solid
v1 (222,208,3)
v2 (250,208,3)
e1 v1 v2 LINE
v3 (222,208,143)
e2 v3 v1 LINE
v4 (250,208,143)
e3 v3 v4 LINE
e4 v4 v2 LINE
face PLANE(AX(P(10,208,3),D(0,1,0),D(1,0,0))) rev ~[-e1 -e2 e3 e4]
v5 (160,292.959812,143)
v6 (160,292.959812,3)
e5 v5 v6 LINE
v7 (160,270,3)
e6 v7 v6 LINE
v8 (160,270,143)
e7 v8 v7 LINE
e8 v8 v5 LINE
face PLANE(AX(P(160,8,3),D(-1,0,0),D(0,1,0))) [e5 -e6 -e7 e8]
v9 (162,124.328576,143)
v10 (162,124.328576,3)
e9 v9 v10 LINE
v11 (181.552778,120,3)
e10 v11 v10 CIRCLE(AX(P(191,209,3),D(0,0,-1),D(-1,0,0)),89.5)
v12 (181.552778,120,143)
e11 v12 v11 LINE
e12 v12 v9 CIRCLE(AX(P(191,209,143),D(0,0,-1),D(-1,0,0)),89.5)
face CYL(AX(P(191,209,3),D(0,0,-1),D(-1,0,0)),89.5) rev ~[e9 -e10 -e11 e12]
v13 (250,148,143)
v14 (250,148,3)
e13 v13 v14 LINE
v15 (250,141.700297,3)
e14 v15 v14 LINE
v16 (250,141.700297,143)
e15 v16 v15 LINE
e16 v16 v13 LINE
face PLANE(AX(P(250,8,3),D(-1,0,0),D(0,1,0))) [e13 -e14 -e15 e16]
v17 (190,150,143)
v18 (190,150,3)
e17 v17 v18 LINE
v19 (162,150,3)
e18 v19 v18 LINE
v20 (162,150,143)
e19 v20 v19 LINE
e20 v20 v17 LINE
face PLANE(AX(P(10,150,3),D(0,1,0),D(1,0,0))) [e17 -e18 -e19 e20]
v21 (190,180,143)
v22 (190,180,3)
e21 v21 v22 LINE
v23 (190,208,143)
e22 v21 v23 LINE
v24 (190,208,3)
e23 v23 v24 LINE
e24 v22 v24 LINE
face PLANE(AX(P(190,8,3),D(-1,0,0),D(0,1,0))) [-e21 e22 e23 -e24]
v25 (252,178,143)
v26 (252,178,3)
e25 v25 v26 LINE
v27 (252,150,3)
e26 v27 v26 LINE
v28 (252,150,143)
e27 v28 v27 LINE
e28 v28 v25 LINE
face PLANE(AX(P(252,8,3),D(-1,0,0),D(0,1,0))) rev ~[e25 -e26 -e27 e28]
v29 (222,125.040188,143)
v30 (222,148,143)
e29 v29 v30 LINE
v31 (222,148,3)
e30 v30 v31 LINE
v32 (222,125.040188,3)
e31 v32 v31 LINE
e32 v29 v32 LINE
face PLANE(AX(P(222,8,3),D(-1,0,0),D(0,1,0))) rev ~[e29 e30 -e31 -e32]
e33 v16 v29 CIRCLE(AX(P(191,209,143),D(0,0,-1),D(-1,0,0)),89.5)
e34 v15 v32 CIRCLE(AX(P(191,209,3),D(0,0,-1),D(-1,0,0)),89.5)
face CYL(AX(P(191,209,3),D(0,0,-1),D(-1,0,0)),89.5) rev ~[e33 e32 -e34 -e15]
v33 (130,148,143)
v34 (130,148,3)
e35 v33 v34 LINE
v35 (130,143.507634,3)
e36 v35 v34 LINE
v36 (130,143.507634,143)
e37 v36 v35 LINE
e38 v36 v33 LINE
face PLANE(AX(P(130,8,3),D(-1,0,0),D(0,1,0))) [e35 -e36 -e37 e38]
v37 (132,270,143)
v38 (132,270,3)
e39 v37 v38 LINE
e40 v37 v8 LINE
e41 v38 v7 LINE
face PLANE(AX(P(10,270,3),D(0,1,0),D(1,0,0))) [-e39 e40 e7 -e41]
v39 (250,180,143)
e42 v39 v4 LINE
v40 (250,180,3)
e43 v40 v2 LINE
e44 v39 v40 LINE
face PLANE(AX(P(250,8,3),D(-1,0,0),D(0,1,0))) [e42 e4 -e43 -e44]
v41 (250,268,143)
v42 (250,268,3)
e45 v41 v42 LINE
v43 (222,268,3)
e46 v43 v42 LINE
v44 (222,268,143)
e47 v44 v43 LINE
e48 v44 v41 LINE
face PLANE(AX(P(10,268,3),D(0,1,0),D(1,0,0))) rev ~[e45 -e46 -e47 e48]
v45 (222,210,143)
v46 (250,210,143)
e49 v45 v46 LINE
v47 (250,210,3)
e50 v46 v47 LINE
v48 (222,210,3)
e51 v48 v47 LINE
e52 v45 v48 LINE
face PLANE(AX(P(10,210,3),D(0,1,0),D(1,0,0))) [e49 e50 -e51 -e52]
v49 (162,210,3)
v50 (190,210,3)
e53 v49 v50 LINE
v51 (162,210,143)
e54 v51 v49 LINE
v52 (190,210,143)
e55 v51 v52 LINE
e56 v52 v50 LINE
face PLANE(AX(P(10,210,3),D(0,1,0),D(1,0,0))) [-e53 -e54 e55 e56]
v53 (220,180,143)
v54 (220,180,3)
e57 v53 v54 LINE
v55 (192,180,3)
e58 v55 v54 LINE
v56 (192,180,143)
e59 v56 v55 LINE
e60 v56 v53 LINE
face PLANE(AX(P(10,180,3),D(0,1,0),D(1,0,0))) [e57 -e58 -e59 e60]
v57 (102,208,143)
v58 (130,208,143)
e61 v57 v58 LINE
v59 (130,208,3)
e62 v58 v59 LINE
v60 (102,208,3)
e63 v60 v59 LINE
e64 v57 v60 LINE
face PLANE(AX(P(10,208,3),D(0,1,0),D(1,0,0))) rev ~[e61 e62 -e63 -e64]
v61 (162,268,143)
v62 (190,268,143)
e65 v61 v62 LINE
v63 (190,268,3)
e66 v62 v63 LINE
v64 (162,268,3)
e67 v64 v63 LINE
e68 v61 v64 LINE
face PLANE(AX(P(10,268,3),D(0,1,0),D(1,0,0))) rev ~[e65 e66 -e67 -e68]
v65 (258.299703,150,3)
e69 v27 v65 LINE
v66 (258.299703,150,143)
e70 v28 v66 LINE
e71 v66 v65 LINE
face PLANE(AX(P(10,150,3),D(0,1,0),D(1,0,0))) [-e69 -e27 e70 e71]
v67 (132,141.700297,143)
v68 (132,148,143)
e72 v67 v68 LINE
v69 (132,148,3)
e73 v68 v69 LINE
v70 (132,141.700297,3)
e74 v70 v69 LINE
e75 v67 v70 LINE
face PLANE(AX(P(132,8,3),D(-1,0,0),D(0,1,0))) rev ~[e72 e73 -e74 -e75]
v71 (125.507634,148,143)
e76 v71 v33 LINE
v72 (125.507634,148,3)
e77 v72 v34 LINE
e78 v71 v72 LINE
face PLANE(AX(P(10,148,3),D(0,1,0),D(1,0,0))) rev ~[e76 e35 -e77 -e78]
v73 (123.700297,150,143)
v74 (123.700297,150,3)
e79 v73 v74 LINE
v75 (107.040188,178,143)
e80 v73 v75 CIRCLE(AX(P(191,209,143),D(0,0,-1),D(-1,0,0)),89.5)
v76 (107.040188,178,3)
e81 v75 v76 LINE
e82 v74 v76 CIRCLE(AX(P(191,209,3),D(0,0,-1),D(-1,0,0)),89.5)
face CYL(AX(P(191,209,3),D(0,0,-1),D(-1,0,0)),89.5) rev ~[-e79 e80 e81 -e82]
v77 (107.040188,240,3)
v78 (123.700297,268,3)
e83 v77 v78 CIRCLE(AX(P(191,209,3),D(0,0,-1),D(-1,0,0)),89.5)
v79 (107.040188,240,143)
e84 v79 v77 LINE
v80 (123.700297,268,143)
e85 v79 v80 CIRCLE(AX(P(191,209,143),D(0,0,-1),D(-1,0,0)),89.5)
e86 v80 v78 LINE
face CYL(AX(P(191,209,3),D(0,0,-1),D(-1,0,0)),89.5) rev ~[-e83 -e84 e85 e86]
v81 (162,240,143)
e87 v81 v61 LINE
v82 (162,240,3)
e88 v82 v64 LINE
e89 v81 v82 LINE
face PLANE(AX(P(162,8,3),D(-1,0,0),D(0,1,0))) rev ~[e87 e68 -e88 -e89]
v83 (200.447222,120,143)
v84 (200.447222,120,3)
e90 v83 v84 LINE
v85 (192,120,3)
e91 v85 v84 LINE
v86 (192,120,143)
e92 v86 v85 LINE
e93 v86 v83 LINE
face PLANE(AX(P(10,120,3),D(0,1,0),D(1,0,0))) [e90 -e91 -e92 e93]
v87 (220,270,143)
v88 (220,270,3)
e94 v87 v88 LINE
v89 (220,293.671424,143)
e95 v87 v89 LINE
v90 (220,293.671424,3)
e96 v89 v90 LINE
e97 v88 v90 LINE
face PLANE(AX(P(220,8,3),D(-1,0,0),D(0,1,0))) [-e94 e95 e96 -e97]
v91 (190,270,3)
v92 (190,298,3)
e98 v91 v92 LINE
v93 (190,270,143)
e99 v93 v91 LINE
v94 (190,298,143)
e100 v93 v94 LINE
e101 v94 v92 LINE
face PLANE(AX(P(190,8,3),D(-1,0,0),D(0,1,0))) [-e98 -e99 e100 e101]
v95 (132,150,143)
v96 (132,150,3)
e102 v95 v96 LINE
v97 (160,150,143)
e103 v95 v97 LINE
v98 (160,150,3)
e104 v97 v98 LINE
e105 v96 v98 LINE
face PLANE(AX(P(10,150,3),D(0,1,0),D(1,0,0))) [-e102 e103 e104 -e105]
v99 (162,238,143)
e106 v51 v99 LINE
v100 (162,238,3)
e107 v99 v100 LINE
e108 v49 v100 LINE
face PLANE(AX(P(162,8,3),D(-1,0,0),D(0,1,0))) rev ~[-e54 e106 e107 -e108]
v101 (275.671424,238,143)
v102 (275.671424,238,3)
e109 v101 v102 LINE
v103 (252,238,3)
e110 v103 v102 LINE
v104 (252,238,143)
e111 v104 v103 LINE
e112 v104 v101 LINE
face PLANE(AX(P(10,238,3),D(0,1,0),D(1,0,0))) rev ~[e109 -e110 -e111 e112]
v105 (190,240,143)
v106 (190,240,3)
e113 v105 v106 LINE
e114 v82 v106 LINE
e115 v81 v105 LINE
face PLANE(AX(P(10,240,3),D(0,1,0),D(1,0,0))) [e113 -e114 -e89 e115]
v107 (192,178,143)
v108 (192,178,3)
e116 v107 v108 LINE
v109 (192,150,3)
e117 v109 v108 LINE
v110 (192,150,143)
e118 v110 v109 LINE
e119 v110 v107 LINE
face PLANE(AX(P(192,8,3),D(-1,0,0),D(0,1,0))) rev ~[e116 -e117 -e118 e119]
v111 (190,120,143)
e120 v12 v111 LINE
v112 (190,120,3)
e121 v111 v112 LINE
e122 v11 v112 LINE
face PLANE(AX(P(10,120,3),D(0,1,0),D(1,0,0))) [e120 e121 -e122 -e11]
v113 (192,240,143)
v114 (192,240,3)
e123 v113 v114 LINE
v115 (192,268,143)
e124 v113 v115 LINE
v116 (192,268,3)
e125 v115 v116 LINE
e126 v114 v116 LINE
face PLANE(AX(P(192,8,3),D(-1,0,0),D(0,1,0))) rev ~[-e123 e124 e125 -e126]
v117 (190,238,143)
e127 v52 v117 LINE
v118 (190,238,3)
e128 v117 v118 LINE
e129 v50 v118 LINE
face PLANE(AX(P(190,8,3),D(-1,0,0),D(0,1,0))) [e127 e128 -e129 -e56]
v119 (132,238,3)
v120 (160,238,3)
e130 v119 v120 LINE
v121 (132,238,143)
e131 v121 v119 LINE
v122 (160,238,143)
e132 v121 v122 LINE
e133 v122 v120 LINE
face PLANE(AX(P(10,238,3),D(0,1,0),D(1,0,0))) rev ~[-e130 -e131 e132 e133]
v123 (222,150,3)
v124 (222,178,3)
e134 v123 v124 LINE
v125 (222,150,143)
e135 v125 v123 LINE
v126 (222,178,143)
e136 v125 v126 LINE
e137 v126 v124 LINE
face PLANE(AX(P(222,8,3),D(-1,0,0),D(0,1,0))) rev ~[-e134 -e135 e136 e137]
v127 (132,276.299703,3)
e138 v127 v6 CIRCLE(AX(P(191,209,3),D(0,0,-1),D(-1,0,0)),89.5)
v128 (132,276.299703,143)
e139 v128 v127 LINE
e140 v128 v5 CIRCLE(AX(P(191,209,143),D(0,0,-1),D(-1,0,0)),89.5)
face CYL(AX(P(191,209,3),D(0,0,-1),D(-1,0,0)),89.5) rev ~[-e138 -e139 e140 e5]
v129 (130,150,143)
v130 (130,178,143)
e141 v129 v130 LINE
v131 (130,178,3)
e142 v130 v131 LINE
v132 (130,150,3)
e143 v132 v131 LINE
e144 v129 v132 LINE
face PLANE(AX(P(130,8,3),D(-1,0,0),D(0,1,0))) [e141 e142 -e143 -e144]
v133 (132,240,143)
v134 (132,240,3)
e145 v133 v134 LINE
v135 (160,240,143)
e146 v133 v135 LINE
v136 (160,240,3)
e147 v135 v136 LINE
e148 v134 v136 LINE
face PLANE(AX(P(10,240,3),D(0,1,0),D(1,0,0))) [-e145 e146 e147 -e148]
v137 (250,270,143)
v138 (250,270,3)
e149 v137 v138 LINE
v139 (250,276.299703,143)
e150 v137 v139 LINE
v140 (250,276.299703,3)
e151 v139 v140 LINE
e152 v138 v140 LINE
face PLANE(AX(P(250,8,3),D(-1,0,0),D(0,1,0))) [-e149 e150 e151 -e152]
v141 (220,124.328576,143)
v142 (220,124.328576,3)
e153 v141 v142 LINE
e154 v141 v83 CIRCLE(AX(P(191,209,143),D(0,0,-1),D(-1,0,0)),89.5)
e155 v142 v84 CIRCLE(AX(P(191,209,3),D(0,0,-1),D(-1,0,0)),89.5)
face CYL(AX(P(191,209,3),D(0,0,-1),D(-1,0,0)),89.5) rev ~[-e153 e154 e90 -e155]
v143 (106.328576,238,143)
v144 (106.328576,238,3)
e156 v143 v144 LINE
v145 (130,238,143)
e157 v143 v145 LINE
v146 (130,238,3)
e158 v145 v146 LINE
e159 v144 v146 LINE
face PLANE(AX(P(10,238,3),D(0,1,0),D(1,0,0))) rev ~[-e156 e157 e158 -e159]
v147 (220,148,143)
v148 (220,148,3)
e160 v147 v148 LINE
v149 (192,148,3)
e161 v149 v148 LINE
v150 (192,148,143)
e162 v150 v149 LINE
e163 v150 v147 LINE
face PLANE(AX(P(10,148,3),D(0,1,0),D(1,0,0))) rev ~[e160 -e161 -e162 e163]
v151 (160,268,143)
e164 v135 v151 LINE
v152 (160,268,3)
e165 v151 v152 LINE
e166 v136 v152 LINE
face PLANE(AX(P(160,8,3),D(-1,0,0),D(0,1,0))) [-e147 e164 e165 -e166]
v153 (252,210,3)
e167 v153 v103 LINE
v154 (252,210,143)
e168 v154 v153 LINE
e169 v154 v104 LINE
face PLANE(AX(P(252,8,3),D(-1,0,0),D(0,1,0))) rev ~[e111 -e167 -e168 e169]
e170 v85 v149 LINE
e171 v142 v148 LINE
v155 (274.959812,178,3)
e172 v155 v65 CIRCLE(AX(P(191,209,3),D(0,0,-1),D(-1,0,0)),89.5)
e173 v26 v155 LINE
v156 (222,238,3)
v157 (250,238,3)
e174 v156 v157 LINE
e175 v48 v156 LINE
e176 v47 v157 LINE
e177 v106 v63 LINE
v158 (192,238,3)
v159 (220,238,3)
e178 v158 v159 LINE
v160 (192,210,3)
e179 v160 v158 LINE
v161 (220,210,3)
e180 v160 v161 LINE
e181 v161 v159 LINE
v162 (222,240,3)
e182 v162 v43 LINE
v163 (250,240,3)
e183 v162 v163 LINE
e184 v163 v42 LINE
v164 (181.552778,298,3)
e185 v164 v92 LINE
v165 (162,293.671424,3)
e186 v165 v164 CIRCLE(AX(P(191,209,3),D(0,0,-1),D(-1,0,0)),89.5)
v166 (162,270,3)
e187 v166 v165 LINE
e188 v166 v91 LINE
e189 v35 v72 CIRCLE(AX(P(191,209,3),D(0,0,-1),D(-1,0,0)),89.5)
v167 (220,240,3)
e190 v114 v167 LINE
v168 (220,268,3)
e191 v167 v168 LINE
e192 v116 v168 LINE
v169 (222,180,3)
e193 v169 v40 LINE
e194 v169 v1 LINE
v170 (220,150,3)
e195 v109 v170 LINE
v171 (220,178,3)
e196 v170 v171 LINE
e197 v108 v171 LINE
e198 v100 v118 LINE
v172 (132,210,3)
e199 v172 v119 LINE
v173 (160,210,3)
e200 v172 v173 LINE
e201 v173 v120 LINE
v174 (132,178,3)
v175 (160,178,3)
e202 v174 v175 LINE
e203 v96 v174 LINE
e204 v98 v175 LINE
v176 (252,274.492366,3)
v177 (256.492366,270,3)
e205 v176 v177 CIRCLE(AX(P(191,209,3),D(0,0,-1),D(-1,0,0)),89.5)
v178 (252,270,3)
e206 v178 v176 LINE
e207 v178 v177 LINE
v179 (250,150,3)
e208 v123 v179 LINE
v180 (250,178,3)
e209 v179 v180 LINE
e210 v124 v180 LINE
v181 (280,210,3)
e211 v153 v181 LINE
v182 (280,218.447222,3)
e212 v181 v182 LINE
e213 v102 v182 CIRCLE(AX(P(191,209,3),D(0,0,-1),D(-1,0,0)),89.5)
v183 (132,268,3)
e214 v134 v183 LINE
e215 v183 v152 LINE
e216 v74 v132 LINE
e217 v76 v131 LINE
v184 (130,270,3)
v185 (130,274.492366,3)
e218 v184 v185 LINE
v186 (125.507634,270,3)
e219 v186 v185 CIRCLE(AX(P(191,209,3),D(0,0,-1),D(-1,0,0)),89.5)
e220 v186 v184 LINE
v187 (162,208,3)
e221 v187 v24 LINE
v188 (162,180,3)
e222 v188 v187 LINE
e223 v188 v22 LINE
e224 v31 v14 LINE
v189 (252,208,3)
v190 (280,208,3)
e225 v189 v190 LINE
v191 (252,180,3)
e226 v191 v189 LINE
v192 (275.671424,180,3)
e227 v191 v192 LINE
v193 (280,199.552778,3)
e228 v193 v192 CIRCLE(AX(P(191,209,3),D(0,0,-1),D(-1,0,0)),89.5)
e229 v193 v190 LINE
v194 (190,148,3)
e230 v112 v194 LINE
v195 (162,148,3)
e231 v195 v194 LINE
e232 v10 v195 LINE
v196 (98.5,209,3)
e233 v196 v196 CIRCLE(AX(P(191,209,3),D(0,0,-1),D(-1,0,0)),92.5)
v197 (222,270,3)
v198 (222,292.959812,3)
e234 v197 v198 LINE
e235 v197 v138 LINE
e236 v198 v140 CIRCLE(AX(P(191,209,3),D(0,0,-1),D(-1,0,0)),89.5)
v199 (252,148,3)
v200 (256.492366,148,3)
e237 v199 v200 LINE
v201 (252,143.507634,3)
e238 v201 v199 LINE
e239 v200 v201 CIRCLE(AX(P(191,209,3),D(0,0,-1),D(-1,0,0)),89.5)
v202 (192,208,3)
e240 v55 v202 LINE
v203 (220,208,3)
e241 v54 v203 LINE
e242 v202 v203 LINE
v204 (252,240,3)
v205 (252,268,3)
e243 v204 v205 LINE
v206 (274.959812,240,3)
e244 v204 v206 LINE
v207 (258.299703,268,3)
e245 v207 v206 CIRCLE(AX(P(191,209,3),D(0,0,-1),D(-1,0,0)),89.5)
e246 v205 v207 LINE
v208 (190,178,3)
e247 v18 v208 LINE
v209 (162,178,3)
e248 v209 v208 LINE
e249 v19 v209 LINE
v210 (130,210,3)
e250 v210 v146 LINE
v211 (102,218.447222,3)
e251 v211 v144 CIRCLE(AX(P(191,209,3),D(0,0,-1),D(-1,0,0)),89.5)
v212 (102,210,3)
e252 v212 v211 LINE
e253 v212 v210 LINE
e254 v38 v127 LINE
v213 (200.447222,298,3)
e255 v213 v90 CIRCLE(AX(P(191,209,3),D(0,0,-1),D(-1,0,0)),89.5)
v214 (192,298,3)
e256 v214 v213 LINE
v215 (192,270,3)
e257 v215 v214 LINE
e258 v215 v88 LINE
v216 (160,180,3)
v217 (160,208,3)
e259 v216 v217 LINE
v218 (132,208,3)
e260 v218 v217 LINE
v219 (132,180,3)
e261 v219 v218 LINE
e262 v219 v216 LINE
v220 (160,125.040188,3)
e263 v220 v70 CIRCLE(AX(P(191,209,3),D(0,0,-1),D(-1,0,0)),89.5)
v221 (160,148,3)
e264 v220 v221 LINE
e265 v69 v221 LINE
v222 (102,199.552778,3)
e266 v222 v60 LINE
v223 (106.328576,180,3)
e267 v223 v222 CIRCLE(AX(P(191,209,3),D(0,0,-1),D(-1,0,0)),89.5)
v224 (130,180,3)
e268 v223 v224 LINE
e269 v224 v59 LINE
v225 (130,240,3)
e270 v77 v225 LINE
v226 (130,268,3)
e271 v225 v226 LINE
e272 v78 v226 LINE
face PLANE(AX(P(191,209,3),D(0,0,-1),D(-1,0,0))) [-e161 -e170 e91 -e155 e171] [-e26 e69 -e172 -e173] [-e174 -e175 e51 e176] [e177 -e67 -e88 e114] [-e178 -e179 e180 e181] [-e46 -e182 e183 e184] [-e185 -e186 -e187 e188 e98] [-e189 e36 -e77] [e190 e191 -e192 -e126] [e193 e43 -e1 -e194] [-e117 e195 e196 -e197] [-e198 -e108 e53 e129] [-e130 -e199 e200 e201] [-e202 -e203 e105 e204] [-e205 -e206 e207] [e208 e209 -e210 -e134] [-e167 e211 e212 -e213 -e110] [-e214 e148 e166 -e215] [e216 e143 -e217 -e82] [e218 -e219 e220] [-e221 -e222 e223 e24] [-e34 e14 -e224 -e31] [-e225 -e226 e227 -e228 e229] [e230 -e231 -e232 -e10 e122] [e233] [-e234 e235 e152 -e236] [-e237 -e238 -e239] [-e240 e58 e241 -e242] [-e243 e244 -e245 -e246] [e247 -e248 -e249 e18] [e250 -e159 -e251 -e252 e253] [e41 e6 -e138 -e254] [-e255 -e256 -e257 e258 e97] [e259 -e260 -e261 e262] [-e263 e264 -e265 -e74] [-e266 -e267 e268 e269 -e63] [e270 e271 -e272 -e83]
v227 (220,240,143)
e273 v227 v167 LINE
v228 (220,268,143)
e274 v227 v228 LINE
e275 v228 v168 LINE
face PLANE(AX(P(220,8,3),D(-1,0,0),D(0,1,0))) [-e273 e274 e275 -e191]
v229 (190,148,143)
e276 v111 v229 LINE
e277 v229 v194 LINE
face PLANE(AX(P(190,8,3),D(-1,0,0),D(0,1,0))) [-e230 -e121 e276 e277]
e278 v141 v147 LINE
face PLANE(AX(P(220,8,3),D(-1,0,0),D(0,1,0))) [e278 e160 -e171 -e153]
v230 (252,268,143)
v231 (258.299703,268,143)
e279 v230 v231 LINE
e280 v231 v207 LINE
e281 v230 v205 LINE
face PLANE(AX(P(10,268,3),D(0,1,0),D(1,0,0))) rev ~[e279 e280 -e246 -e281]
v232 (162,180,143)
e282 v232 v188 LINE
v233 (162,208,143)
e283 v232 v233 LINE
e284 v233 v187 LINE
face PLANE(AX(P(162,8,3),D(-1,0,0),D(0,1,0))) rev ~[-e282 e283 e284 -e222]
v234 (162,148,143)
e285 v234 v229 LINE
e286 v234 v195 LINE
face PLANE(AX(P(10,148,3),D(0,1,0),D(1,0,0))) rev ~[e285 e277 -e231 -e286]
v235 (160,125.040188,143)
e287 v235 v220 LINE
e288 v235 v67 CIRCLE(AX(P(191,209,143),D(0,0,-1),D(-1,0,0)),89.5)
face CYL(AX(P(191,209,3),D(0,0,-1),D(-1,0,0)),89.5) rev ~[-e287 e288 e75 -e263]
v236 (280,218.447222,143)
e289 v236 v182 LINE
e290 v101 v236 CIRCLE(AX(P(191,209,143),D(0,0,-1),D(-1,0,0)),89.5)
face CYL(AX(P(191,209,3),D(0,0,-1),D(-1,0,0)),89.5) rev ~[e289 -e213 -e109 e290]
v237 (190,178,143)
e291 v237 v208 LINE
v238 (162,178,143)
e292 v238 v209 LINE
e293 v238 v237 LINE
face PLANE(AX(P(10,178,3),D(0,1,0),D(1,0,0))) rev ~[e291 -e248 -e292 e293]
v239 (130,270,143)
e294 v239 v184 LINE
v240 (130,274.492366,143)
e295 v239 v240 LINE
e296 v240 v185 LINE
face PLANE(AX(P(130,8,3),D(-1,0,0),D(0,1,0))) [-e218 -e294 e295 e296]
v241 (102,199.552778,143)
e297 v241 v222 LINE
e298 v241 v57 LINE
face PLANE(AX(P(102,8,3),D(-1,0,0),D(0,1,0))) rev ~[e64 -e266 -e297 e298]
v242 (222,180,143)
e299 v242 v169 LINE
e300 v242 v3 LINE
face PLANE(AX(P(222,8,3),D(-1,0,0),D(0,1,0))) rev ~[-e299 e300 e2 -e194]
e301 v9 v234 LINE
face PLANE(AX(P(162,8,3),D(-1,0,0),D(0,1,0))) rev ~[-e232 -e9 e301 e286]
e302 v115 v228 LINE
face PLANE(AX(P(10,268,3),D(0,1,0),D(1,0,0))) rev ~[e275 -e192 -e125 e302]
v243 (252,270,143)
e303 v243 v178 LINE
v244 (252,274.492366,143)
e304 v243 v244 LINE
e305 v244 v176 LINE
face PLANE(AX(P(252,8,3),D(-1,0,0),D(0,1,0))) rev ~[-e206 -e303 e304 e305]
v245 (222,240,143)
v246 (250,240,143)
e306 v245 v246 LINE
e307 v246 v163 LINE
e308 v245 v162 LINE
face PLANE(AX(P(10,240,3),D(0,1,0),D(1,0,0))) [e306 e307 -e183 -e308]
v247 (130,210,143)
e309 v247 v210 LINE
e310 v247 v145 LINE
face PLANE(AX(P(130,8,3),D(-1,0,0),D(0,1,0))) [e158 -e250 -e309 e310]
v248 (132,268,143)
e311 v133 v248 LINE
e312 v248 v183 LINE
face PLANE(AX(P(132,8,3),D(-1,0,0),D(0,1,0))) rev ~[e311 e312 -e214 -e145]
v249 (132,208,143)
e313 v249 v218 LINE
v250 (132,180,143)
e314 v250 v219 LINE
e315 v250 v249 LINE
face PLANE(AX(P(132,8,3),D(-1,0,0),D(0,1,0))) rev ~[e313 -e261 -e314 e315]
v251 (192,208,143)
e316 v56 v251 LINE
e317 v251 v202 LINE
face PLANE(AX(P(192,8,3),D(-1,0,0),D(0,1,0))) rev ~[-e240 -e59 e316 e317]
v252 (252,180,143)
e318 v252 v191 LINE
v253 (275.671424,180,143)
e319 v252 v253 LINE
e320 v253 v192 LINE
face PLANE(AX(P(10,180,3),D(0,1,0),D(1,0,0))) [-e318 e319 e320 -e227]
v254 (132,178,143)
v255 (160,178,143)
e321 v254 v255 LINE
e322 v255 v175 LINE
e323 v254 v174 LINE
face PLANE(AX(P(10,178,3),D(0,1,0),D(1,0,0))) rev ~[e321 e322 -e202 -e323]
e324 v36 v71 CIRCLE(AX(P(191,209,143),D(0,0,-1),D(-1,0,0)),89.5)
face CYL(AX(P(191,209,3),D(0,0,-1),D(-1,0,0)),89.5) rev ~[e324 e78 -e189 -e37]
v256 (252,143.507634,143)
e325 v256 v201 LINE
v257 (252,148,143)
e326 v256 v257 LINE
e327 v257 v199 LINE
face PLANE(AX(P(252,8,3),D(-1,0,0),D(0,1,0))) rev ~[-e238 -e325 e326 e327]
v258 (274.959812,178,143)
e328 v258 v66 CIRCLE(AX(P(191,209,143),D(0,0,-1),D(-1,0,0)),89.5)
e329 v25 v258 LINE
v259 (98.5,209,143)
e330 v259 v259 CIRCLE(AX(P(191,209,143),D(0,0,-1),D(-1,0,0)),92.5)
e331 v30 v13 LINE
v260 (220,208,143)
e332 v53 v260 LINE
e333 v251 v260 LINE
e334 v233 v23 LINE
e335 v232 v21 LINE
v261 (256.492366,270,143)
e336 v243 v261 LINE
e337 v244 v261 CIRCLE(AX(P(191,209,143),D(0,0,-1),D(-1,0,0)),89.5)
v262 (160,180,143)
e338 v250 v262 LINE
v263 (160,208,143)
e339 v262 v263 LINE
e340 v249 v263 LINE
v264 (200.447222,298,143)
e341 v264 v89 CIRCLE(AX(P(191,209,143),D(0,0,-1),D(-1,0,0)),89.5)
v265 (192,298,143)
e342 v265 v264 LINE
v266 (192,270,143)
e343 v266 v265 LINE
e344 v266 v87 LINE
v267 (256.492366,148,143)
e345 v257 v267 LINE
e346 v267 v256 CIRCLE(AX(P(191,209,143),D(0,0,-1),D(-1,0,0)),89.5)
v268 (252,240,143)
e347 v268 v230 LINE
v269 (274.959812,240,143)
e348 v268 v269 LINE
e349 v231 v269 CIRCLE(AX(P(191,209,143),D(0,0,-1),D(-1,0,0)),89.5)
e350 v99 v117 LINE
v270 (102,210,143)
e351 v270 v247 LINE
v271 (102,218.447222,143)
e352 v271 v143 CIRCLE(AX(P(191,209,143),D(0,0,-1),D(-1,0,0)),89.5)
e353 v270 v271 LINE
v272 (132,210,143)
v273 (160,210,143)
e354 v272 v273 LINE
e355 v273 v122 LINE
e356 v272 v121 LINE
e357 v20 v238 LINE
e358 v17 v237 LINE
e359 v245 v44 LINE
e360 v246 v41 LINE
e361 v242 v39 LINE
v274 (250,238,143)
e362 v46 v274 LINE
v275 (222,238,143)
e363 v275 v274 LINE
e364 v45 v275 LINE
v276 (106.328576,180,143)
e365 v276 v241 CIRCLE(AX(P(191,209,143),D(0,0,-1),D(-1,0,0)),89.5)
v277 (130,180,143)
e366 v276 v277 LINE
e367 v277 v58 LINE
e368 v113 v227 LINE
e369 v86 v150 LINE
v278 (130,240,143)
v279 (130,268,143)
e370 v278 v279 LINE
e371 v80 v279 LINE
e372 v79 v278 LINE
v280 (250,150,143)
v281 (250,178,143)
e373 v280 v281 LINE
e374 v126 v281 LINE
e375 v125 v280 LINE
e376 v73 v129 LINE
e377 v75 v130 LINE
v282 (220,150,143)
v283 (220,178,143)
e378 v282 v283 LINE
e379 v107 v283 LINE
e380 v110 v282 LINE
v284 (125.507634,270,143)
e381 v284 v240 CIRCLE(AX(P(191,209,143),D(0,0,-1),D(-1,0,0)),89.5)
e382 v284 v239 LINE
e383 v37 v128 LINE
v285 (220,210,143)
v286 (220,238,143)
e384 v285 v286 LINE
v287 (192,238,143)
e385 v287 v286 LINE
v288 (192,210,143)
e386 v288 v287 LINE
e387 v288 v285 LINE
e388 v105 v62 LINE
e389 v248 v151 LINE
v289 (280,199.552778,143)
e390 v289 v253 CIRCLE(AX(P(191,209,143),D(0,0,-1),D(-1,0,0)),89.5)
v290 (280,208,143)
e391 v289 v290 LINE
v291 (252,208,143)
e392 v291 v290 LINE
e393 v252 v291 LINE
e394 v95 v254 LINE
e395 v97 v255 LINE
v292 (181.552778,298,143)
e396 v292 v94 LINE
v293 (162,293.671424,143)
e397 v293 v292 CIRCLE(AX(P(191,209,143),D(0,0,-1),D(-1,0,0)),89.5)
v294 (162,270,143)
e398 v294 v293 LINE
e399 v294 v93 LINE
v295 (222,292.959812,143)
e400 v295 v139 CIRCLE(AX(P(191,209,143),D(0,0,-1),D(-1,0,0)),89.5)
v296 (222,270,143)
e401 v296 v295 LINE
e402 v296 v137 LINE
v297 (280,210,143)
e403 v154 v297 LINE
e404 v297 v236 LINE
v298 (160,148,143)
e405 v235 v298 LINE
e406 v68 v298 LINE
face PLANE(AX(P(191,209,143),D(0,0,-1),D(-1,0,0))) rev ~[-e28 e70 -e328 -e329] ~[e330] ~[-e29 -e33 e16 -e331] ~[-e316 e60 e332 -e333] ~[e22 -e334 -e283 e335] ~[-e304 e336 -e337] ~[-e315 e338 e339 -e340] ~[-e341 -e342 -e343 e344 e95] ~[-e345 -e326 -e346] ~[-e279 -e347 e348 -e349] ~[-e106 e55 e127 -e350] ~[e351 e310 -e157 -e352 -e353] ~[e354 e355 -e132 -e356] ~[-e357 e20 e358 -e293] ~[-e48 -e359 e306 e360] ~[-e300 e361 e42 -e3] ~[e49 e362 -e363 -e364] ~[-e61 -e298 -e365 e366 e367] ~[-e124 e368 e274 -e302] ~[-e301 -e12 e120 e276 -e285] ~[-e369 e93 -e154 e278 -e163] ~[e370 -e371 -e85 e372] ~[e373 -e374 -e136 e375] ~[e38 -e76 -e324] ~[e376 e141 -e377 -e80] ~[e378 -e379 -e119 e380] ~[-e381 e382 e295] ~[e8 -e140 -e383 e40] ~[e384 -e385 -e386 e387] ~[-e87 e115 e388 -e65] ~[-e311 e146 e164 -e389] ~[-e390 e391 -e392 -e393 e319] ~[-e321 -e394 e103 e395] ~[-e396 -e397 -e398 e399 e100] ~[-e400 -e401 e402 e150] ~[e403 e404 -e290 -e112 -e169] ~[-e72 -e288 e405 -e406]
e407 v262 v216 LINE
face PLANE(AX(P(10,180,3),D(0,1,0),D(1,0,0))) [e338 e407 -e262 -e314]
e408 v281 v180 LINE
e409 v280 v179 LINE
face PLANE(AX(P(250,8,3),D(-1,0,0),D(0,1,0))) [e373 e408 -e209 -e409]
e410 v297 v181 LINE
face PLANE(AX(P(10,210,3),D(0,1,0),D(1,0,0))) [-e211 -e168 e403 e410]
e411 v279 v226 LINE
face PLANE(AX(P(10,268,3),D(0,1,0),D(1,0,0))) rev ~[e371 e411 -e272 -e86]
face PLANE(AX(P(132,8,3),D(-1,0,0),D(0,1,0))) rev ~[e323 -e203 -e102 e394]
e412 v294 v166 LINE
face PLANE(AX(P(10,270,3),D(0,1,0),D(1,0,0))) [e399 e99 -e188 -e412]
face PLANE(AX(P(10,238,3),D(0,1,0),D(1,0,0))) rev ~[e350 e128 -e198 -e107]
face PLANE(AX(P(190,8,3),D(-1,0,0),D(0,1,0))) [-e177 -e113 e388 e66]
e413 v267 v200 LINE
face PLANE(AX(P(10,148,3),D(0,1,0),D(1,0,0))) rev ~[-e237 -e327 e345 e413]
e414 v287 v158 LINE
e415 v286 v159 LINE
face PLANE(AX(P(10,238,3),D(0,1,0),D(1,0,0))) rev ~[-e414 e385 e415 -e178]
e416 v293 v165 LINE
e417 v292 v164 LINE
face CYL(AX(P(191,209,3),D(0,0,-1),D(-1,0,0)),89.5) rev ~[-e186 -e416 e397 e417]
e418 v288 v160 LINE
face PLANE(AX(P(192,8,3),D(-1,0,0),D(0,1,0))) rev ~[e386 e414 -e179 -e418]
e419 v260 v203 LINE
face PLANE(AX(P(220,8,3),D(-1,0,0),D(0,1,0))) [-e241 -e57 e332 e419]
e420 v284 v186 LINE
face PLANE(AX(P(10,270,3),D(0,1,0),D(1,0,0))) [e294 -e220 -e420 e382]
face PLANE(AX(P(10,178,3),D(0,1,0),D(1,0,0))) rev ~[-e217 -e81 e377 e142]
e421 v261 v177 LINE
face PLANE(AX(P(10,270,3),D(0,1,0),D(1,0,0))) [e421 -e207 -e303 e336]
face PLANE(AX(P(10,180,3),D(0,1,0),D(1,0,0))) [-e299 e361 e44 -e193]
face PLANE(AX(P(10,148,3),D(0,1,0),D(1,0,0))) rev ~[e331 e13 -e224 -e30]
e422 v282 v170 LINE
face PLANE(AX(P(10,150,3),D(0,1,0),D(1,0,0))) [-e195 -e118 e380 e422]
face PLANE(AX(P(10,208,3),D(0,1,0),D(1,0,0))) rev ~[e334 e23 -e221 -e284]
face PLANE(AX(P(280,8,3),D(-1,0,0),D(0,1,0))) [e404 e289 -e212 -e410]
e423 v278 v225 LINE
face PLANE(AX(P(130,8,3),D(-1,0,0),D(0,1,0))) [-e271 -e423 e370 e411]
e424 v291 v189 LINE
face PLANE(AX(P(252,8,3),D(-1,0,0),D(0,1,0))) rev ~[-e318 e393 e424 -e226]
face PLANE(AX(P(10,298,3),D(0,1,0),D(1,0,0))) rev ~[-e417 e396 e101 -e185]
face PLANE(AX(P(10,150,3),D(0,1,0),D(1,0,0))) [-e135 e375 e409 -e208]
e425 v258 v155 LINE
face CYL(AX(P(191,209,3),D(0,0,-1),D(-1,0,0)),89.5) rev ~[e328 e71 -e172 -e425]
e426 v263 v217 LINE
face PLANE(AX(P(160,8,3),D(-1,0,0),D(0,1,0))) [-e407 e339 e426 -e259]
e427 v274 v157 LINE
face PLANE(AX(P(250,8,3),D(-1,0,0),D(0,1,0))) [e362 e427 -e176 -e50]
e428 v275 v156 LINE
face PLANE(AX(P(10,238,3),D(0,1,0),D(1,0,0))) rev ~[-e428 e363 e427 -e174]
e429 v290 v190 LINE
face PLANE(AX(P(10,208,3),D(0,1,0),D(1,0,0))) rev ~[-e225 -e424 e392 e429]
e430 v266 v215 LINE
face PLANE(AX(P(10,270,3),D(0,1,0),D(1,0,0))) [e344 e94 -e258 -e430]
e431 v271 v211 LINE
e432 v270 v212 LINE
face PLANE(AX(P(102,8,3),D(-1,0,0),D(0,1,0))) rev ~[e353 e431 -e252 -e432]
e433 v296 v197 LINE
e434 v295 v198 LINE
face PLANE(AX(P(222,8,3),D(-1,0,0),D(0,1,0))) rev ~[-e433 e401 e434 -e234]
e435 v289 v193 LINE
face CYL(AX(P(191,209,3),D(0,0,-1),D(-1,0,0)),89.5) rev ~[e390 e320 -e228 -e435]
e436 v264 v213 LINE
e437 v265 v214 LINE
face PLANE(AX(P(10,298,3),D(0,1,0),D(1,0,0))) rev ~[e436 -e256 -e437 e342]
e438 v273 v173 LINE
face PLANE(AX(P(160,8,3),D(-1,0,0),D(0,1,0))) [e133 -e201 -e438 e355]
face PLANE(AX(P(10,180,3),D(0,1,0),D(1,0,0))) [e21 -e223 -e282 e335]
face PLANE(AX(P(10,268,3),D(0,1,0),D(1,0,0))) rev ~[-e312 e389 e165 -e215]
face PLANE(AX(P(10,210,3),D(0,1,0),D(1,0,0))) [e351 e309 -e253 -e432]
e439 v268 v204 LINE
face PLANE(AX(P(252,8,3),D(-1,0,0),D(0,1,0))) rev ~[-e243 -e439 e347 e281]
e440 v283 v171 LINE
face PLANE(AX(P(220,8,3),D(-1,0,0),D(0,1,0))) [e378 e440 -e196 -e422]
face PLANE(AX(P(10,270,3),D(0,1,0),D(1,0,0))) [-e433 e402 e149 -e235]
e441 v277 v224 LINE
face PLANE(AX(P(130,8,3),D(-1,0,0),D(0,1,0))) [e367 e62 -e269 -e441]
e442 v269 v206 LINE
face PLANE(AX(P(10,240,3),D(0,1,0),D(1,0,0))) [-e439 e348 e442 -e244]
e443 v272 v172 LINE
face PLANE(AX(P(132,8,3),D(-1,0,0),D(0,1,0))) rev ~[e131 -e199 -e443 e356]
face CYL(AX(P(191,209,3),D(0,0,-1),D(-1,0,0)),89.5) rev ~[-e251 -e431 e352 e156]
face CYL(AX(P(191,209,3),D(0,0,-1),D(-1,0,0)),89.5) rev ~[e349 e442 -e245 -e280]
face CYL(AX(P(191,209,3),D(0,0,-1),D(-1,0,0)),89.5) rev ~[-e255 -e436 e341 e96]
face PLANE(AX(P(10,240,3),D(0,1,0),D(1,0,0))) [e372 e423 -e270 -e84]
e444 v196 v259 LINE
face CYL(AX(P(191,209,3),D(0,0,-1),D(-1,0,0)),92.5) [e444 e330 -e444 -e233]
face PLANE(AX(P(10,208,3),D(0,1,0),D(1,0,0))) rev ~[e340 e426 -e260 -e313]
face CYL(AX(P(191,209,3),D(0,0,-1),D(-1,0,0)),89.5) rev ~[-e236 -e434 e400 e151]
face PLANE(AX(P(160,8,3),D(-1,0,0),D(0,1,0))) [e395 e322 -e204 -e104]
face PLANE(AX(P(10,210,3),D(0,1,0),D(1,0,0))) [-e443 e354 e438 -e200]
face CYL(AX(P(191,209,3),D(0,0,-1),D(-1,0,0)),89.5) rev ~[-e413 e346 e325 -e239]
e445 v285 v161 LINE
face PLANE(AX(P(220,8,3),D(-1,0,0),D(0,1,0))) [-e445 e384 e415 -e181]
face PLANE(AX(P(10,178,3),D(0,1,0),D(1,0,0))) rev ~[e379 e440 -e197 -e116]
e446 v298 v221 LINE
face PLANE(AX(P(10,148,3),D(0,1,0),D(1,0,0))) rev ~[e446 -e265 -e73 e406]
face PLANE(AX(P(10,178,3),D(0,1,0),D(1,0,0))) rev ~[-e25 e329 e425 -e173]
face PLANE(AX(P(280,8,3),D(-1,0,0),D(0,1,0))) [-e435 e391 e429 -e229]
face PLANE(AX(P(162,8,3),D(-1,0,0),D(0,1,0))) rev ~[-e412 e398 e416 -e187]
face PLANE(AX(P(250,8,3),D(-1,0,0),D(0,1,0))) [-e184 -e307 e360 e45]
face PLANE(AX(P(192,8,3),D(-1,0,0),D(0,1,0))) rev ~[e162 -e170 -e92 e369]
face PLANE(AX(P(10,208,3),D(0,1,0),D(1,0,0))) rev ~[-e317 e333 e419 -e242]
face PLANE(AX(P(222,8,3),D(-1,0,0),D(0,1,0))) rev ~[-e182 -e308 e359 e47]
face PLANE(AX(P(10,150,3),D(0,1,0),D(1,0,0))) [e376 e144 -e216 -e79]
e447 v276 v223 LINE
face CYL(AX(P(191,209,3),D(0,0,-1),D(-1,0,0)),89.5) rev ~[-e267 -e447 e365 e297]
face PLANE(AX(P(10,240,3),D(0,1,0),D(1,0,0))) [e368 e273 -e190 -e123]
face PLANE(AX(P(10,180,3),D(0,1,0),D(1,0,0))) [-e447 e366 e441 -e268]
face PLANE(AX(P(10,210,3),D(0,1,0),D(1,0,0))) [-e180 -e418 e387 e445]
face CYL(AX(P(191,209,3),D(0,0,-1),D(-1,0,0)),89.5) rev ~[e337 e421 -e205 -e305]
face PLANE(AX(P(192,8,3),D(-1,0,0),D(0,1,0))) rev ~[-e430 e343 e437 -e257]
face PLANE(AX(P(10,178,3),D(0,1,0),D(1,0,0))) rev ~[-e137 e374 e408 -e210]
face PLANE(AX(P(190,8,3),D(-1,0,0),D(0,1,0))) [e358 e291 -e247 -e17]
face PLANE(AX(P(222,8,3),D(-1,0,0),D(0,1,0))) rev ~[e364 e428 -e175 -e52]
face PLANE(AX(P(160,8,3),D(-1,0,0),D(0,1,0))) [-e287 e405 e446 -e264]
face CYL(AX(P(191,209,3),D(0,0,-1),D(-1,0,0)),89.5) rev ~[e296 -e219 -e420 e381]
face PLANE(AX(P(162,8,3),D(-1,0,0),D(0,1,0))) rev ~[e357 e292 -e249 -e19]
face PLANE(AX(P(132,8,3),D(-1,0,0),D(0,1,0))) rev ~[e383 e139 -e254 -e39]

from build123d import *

# Parameters (mm, degrees)
SKETCH_7_W               = 400
SKETCH_7_H               = 400
EXTRUDE_1_DEPTH          = 3
SKETCH_8_W               = 380
SKETCH_8_H               = 2
EXTRUDE_2_DEPTH          = 140
SKETCH_9_W               = 2
SKETCH_9_H               = 382
EXTRUDE_3_DEPTH          = 140
PATTERN_LINEAR_1_COUNT   = 12
PATTERN_LINEAR_1_PITCH   = 30
PATTERN_LINEAR_3_COUNT   = 12
PATTERN_LINEAR_3_PITCH   = 30
SKETCH_11_W              = 400
SKETCH_11_H              = 400
CUT_EXTRUDE_1_DEPTH      = 3
CUT_EXTRUDE_2_DEPTH      = 570.034269618
CUT_EXTRUDE_2_DEPTH_BACK = 570.034269618
SKETCH_12_R              = 300
SKETCH_12_R_2            = 90
SKETCH_13_R              = 92.5
SKETCH_13_R_2            = 89.5
EXTRUDE_8_DEPTH          = 140


with BuildPart() as part:
    # 草图7 → 凸台-拉伸1 (new body)
    with BuildSketch(Plane.XY):
        with Locations((200, 200)):
            Rectangle(SKETCH_7_W, SKETCH_7_H)
    extrude(amount=EXTRUDE_1_DEPTH)

    # 草图8 → 凸台-拉伸2 (add)
    with BuildSketch(Plane.XY.offset(3)):
        with Locations((200, 389)):
            Rectangle(SKETCH_8_W, SKETCH_8_H)
    extrude_2 = extrude(amount=EXTRUDE_2_DEPTH)

    # 草图9 → 凸台-拉伸3 (add)
    with BuildSketch(Plane.XY.offset(3)):
        with Locations((11, 199)):
            Rectangle(SKETCH_9_W, SKETCH_9_H)
    extrude_3 = extrude(amount=EXTRUDE_3_DEPTH)

    # 阵列(线性)1: 凸台-拉伸3 ×12
    with Locations(*[(i * PATTERN_LINEAR_1_PITCH, 0, 0) for i in range(1, PATTERN_LINEAR_1_COUNT)]):
        add(extrude_3)

    # 阵列(线性)3: 凸台-拉伸2 ×12
    with Locations(*[(0, -i * PATTERN_LINEAR_3_PITCH, 0) for i in range(1, PATTERN_LINEAR_3_COUNT)]):
        add(extrude_2)

    # 草图11 → 切除-拉伸1 (cut)
    with BuildSketch(Plane(origin=(0, 0, 0), x_dir=(-1, 0, 0), z_dir=(0, 0, -1))):
        with Locations((-200, 200)):
            Rectangle(SKETCH_11_W, SKETCH_11_H)
    extrude(amount=-CUT_EXTRUDE_1_DEPTH, mode=Mode.SUBTRACT)

    # 草图12 → 切除-拉伸2 (cut, two sides: drawn at the far end of the back side and taken through both)
    with BuildSketch(Plane(origin=(0, 0, 3), x_dir=(-1, 0, 0), z_dir=(0, 0, -1)).offset(-CUT_EXTRUDE_2_DEPTH_BACK)):
        with Locations((-191, 208.958405787)):
            Circle(SKETCH_12_R)
        with Locations((-191, 208.958405787)):
            Circle(SKETCH_12_R_2, mode=Mode.SUBTRACT)
    extrude(amount=CUT_EXTRUDE_2_DEPTH + CUT_EXTRUDE_2_DEPTH_BACK, mode=Mode.SUBTRACT)

    # 草图13 → 凸台-拉伸8 (add)
    with BuildSketch(Plane(origin=(0, 0, 3), x_dir=(-1, 0, 0), z_dir=(0, 0, -1))):
        with Locations((-191, 209)):
            Circle(SKETCH_13_R)
        with Locations((-191, 209)):
            Circle(SKETCH_13_R_2, mode=Mode.SUBTRACT)
    extrude(amount=-EXTRUDE_8_DEPTH)


solid = part.part
